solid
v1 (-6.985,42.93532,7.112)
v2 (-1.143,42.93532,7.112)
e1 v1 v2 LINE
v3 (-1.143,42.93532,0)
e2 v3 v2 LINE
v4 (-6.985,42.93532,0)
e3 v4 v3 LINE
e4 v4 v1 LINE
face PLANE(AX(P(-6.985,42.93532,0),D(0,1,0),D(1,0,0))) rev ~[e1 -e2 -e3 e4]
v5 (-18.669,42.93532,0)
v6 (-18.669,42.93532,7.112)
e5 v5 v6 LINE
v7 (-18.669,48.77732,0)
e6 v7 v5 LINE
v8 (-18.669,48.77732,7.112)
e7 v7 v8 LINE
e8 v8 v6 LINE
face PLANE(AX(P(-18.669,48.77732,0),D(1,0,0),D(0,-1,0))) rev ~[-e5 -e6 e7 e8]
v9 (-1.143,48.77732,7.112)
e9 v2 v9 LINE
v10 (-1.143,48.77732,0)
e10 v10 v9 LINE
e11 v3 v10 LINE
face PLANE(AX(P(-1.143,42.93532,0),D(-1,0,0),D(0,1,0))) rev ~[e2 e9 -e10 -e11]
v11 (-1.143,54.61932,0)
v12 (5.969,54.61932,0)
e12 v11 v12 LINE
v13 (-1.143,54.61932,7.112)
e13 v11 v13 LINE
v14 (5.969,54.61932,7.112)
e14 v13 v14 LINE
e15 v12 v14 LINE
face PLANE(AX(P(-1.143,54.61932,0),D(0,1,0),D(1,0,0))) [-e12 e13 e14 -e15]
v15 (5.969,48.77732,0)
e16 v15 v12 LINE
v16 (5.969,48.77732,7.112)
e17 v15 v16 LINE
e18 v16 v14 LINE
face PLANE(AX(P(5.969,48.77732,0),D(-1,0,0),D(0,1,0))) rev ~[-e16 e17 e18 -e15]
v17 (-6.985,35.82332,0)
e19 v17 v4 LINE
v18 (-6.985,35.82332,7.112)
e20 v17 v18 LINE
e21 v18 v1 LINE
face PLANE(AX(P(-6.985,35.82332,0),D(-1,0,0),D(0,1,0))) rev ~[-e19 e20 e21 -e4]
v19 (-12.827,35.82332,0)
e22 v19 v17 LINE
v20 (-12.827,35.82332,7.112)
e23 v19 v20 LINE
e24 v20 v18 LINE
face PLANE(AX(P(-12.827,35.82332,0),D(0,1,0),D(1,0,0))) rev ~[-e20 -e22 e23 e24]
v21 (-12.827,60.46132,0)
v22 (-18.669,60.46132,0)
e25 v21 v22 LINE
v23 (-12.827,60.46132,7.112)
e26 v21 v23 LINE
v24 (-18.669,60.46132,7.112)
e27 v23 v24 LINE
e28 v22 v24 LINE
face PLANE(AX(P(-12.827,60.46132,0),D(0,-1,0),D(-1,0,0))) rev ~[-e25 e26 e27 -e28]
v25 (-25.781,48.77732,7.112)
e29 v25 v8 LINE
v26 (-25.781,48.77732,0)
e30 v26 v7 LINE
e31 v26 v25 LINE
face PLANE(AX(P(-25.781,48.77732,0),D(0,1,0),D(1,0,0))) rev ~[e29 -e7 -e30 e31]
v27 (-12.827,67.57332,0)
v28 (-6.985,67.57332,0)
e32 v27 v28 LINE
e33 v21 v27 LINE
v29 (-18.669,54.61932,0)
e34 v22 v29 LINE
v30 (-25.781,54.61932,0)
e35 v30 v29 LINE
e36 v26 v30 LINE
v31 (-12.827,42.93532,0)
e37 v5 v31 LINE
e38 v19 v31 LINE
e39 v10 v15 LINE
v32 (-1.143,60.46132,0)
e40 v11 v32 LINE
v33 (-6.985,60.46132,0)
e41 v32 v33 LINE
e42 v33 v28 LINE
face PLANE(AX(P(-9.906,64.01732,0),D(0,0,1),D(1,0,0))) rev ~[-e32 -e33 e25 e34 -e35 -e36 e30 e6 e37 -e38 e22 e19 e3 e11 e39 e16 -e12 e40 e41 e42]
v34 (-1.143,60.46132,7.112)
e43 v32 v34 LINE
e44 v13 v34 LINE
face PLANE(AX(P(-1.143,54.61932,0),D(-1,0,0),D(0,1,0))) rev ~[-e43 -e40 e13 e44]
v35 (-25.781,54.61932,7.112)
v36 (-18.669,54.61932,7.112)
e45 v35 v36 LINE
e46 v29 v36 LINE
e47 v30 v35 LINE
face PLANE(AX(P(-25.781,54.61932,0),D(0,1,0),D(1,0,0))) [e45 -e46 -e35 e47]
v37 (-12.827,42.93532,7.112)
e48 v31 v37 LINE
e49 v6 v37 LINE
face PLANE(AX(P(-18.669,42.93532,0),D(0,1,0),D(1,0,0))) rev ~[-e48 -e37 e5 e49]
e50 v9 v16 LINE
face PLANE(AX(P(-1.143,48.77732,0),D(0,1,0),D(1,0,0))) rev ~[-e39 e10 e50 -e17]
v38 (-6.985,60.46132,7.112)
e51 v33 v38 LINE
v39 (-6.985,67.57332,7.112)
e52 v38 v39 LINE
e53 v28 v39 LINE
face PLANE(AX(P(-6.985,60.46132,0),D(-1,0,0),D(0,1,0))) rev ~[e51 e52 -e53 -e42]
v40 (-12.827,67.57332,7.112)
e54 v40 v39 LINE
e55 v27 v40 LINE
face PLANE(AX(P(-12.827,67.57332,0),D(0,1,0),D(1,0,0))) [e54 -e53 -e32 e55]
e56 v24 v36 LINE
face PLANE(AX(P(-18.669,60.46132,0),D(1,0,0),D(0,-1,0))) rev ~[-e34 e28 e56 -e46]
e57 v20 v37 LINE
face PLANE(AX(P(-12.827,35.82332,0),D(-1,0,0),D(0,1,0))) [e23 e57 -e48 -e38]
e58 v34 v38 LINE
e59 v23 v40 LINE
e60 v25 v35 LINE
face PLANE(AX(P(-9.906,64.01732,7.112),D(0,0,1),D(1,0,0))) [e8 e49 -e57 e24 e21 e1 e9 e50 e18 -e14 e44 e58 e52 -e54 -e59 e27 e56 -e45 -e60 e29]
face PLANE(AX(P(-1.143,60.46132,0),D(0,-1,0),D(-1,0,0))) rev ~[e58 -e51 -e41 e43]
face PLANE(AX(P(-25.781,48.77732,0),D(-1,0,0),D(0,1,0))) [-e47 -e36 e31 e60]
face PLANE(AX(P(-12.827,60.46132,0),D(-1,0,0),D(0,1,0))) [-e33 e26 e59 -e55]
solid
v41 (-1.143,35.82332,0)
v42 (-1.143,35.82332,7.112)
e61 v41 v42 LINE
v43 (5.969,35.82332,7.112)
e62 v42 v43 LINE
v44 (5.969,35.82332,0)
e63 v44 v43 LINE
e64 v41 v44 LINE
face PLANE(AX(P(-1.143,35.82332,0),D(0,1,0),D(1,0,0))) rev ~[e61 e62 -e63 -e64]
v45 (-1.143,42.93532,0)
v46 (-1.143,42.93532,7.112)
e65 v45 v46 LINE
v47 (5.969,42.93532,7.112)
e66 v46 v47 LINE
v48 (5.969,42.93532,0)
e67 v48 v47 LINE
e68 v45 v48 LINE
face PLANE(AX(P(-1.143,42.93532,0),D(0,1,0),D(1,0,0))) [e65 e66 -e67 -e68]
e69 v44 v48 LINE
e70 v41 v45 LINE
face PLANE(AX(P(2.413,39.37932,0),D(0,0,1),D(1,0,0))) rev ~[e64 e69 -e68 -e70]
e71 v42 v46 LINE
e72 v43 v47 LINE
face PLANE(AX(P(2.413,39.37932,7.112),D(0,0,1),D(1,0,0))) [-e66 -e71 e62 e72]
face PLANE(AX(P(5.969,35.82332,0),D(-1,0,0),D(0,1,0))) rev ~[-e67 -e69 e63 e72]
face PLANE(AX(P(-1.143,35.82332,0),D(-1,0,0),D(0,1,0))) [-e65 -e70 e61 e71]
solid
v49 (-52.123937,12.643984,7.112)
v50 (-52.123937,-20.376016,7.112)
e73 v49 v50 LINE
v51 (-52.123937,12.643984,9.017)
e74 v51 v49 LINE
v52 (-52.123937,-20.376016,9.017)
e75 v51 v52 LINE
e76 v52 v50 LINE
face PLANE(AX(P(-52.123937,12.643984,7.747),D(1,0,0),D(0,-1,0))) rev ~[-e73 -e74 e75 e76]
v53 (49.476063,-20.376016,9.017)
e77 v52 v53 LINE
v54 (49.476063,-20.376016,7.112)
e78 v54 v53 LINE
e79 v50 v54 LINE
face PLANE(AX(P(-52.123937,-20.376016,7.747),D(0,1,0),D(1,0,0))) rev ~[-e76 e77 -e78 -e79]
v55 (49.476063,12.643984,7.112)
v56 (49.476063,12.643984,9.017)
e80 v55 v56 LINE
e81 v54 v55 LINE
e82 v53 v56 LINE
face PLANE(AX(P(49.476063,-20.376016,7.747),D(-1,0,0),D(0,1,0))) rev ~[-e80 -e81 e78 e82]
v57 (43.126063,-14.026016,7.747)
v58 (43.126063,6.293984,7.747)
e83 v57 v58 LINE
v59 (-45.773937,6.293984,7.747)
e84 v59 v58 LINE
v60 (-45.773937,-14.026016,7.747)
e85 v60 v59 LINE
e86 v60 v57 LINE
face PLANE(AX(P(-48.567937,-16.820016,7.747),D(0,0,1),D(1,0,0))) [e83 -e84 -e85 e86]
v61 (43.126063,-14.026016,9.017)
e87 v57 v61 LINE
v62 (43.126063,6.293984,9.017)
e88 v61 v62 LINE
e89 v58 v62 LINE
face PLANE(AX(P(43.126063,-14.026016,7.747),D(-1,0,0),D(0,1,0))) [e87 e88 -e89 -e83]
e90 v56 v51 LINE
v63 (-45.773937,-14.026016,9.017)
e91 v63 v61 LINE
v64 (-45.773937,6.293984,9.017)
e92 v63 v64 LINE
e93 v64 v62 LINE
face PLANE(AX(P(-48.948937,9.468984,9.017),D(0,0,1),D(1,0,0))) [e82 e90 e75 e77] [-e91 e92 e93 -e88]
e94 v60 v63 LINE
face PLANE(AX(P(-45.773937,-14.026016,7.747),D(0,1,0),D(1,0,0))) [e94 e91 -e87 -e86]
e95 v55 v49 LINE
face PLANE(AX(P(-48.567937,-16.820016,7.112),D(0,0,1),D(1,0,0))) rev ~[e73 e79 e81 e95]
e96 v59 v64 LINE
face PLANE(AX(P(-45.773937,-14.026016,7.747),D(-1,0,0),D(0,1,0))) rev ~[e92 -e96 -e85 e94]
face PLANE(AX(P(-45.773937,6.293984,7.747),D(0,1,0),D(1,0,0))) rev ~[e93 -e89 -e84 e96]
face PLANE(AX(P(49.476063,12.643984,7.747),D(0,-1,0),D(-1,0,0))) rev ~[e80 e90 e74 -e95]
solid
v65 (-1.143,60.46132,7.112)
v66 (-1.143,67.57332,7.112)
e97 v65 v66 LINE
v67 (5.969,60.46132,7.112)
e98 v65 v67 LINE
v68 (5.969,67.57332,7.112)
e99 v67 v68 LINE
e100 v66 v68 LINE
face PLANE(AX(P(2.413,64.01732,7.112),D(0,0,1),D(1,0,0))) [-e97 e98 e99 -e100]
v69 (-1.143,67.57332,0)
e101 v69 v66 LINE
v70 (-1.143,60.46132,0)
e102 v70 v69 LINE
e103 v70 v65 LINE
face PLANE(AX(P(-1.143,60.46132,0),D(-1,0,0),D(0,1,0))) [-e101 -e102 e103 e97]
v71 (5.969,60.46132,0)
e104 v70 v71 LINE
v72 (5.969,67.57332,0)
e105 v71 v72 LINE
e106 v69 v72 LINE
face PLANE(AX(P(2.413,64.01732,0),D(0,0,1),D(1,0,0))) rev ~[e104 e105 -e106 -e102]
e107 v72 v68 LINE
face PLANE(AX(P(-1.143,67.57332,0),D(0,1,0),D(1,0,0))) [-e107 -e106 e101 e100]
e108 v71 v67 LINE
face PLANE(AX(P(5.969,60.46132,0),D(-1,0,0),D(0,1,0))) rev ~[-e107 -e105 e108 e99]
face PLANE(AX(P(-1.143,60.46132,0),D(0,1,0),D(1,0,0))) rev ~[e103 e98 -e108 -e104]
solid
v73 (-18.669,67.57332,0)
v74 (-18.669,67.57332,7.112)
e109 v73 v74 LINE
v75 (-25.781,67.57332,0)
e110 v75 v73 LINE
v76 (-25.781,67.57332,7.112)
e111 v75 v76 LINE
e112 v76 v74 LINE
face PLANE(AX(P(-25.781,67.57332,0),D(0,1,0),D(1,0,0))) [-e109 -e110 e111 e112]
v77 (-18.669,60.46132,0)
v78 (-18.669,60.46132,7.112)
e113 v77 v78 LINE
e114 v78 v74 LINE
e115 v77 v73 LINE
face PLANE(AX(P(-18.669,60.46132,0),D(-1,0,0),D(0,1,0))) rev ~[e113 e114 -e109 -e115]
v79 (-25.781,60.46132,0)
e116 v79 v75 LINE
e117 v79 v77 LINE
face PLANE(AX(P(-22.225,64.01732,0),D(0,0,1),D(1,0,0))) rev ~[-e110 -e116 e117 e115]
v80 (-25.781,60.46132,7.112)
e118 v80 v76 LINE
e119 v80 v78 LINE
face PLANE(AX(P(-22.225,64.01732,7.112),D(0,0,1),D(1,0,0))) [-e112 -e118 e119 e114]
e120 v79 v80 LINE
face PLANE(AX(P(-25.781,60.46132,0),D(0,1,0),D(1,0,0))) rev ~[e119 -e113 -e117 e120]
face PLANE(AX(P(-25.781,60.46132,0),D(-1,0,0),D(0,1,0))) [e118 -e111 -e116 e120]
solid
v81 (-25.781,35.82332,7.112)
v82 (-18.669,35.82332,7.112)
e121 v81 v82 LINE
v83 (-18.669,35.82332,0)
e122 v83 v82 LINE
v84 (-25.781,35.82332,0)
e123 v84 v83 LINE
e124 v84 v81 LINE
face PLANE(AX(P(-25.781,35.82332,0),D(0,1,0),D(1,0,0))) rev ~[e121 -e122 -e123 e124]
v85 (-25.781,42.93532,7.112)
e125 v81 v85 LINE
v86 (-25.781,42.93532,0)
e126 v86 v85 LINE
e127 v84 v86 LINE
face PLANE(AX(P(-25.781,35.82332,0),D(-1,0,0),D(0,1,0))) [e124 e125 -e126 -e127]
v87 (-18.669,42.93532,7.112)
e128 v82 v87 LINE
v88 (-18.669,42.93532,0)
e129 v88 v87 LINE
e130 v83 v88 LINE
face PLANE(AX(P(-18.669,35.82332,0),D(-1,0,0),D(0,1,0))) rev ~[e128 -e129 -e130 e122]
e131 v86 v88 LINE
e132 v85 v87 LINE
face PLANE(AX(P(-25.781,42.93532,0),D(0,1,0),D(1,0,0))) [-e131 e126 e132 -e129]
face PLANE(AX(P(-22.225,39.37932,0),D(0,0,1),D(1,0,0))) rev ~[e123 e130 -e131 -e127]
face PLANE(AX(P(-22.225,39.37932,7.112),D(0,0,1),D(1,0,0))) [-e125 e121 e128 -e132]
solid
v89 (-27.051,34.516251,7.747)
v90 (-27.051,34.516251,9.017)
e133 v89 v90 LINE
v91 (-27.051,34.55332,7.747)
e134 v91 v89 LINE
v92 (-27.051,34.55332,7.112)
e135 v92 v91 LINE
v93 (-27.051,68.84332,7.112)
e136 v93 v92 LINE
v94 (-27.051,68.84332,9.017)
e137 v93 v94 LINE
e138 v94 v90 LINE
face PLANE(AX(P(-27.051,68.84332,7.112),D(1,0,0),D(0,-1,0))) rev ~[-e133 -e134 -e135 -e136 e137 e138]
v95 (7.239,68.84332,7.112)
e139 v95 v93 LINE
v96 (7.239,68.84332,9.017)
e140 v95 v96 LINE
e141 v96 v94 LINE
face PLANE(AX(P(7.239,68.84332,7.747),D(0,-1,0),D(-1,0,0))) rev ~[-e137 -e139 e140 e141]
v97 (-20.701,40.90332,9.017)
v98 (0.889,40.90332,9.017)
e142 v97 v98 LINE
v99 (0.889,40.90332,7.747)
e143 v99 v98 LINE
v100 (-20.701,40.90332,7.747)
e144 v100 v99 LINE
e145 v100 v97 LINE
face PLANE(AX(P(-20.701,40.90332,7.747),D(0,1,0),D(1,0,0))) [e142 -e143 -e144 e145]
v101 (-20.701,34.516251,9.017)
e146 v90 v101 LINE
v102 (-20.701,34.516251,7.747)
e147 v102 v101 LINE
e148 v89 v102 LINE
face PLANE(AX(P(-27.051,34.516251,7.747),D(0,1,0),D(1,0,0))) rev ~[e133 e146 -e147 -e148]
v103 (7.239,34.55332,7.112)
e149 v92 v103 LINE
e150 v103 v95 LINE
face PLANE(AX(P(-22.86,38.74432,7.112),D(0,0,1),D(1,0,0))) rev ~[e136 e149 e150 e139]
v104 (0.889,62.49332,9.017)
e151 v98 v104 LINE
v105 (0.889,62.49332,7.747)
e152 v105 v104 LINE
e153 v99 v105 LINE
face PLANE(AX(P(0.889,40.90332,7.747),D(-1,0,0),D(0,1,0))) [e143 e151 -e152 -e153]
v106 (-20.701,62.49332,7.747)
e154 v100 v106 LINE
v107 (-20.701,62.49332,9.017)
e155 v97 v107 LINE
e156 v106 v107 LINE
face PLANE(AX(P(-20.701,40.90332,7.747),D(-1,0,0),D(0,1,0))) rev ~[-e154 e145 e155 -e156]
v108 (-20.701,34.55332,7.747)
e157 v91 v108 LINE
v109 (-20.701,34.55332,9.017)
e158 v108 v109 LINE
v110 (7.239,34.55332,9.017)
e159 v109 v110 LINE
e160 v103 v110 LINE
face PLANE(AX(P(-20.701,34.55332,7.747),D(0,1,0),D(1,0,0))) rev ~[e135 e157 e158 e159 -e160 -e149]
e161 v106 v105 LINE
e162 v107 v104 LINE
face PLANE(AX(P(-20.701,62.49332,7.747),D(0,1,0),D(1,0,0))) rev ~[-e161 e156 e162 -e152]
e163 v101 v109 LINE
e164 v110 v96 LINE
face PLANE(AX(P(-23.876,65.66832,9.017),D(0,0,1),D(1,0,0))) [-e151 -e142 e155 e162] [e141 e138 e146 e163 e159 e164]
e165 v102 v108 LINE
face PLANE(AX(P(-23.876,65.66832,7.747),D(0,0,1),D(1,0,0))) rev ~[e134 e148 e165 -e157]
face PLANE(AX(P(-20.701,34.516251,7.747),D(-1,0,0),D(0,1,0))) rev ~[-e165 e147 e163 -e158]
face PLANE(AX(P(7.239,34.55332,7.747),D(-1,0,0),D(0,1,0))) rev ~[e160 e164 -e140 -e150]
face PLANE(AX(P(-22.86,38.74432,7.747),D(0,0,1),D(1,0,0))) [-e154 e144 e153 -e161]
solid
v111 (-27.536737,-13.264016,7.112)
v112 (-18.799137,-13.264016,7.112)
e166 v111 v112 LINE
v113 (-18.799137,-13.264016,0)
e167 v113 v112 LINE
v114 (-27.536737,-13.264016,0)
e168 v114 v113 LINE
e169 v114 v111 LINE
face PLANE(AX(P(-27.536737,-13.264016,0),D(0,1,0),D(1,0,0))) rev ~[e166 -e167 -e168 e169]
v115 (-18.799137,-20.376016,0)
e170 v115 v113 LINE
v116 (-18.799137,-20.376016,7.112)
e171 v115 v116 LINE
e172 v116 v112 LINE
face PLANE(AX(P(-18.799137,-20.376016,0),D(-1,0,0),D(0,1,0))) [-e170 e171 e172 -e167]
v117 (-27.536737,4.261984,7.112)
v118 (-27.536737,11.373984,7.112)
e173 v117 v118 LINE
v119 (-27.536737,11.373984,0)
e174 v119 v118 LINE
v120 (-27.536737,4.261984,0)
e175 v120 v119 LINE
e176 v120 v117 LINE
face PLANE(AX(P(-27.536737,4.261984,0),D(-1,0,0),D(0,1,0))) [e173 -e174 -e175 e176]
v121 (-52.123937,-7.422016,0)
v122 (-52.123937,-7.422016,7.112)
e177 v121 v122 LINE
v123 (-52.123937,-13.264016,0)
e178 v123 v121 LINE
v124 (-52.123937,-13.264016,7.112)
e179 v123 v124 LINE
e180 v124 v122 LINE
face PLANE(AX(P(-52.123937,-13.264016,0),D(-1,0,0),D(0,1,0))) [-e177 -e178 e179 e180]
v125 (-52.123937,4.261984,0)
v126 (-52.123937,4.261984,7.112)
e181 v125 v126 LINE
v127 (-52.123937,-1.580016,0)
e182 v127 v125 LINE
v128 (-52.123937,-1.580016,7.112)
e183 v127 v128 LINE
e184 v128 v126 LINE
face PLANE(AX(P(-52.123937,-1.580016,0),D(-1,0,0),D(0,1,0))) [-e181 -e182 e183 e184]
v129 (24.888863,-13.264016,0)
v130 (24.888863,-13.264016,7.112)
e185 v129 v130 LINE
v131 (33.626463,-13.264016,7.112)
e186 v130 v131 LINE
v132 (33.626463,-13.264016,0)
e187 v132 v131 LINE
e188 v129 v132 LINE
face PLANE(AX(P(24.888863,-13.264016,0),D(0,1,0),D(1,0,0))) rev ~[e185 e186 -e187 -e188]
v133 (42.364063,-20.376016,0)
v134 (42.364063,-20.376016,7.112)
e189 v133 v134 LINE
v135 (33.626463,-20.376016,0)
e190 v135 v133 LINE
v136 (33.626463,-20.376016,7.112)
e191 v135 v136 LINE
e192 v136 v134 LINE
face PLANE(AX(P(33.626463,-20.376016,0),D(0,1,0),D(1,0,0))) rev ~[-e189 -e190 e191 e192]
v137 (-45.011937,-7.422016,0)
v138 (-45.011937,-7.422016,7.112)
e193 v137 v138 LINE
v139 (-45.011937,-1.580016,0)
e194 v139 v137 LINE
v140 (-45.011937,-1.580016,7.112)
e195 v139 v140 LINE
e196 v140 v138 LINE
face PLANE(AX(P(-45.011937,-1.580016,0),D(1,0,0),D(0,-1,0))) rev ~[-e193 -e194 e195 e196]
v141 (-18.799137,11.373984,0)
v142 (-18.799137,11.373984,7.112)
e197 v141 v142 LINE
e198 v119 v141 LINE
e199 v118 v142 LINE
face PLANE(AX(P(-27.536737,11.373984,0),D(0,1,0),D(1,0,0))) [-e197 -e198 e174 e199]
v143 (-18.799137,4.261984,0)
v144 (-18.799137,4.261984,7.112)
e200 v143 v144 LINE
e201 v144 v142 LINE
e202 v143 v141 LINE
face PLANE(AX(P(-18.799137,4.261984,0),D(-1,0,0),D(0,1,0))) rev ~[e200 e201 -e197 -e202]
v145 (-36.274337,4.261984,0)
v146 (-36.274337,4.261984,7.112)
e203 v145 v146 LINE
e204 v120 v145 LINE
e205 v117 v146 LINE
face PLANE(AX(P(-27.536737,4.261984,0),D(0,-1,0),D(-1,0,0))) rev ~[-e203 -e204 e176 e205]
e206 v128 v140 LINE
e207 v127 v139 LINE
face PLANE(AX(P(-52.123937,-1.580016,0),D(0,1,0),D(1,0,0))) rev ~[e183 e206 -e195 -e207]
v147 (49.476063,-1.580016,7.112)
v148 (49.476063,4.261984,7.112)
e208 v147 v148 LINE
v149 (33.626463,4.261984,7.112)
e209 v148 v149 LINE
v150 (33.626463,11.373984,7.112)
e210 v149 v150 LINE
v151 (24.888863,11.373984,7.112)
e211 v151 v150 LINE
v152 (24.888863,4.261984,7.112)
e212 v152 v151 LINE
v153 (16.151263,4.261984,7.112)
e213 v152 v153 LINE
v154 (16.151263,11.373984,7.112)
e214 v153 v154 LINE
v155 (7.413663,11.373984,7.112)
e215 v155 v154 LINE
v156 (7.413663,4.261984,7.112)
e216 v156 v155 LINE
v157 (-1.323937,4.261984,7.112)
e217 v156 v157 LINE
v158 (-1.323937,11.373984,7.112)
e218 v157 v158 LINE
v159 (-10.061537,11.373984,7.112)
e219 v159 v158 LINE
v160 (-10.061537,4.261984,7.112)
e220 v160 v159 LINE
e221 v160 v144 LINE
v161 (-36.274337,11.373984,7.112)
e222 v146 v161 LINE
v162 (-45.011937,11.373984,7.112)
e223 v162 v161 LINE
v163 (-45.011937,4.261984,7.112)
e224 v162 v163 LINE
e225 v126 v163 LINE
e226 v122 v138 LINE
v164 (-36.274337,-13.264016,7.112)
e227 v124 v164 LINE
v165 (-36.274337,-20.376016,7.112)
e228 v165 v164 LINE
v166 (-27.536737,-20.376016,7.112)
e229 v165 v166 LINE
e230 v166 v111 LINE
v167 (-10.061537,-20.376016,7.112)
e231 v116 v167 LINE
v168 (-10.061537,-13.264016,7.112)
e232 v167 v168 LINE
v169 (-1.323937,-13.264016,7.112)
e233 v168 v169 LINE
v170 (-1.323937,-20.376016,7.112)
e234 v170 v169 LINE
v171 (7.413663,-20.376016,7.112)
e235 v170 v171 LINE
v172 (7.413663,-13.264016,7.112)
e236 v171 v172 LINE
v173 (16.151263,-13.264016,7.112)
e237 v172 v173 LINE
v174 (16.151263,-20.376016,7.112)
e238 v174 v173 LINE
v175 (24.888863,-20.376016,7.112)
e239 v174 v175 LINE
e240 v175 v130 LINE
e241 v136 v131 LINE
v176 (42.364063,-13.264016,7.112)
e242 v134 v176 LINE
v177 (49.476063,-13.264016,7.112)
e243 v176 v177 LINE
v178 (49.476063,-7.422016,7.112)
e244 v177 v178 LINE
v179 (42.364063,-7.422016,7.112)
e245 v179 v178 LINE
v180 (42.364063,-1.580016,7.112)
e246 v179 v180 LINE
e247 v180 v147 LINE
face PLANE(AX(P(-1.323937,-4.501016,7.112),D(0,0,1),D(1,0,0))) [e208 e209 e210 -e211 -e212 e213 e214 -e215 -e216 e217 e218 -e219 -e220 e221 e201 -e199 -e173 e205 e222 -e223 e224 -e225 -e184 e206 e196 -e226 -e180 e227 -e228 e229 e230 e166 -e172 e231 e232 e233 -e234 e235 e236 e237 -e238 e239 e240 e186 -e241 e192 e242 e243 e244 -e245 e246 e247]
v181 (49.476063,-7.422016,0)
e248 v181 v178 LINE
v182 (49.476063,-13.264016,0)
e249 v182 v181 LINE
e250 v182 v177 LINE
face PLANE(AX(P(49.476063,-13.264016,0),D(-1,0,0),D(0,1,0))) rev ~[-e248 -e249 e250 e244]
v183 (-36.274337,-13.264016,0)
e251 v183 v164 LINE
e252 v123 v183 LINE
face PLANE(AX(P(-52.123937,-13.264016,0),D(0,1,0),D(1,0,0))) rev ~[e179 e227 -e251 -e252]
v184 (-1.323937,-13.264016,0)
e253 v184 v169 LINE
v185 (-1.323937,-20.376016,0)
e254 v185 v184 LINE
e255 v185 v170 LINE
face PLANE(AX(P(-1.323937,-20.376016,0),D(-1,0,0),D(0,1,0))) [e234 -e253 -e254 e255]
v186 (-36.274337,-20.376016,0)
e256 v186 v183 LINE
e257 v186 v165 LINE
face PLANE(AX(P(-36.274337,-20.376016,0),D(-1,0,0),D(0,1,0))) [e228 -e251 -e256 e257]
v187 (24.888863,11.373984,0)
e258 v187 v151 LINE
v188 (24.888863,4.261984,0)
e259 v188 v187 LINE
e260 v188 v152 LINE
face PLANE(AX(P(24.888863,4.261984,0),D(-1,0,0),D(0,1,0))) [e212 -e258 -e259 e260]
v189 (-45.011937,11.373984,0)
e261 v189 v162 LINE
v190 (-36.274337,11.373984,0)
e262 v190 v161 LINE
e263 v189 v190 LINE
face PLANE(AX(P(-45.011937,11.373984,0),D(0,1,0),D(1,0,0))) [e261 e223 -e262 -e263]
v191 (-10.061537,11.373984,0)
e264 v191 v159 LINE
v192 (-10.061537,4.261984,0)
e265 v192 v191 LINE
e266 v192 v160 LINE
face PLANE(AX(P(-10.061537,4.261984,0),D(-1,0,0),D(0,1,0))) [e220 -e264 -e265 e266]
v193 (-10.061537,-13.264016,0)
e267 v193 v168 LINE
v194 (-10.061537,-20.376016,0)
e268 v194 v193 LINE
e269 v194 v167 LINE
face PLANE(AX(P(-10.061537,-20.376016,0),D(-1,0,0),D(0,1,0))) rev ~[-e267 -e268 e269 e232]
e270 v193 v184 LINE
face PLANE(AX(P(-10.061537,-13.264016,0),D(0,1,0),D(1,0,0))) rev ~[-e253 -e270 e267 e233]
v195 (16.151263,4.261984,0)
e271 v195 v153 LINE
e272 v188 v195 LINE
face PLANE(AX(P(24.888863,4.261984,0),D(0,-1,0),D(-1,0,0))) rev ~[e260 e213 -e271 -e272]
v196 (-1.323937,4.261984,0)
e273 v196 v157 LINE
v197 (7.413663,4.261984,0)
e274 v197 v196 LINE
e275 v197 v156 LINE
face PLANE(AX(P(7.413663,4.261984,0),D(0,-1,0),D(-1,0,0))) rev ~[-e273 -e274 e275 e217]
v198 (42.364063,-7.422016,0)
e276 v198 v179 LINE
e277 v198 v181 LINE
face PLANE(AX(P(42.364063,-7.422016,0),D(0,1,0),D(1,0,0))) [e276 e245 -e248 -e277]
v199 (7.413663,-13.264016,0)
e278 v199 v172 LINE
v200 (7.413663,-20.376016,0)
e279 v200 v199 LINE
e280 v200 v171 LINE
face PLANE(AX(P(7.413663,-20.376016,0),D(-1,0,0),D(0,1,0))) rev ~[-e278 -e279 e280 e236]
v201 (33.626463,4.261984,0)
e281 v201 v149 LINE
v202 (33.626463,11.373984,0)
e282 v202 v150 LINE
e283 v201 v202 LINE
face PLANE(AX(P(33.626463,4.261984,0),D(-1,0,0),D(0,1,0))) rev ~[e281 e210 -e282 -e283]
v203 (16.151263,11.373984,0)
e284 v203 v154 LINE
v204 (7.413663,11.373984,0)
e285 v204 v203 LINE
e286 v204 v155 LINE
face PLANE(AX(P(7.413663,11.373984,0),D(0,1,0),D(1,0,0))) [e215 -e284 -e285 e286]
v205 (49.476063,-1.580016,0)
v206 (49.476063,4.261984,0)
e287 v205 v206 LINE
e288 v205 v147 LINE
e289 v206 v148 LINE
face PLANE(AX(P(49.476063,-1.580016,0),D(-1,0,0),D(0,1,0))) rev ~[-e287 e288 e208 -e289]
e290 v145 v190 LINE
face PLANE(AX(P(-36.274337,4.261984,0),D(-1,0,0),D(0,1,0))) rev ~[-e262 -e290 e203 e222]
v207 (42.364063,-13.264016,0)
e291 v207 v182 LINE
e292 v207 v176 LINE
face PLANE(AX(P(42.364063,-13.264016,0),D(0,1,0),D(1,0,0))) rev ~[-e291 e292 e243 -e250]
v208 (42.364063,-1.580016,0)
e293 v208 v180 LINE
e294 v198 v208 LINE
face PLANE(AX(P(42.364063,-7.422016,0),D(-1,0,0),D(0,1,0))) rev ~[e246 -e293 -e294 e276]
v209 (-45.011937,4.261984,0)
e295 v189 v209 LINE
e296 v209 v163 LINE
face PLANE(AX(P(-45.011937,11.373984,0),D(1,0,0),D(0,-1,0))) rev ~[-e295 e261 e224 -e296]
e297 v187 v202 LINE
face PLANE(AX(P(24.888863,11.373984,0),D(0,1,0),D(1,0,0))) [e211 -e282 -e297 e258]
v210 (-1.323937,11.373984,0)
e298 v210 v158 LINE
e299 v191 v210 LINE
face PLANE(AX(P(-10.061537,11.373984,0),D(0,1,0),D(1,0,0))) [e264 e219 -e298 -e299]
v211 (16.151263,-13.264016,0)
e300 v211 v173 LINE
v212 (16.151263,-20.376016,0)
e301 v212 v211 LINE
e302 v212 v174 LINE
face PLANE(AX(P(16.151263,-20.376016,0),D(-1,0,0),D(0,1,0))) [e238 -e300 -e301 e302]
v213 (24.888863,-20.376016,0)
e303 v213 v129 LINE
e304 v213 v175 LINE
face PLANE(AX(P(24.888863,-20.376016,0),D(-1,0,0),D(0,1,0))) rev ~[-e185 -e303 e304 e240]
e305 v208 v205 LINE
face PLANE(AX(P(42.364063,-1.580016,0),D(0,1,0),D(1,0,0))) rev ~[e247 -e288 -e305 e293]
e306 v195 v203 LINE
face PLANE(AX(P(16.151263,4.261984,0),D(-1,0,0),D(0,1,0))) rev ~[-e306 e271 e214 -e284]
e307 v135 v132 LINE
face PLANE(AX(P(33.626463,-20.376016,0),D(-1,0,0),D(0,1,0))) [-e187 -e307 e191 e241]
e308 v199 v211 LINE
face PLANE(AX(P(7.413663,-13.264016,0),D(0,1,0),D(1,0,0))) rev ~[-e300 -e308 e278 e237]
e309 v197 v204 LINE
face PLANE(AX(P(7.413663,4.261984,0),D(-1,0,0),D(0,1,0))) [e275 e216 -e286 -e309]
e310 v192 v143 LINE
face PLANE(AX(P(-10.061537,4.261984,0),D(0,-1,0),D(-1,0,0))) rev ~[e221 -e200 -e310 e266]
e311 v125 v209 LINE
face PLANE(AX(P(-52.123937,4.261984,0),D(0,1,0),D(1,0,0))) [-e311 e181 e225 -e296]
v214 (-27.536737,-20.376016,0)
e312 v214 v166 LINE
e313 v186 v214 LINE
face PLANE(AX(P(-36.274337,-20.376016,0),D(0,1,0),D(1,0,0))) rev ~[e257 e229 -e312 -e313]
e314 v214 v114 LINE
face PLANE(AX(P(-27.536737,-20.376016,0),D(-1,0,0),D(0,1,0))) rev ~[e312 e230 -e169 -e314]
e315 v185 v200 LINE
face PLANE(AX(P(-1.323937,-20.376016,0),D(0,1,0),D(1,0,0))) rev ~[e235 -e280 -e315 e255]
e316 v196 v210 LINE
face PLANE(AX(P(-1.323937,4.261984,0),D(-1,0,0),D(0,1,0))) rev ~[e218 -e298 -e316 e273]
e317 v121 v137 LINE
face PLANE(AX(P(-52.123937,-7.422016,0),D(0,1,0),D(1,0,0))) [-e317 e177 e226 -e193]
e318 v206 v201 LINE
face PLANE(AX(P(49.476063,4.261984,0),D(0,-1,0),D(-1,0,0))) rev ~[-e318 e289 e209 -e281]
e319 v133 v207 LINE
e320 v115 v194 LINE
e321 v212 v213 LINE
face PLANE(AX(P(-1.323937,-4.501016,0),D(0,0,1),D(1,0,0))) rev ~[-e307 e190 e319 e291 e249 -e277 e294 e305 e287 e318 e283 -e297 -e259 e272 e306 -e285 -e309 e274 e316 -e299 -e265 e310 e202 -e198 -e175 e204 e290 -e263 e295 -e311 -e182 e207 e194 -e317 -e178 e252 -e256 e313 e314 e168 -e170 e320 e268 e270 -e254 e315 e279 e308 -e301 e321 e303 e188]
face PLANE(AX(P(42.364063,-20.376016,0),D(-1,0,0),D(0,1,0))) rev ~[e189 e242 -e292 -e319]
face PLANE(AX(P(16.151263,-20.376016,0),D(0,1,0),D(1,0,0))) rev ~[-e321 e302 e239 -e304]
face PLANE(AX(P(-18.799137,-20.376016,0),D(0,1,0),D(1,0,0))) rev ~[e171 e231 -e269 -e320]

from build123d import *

# Parameters (mm, degrees)
F0_W      = 8.7376
F0_H      = 7.112
F0_W_2    = 7.112
F0_H_2    = 5.842
F1_DEPTH  = 7.112
F2_W      = 7.112
F2_H      = 7.112
F2_W_2    = 87.376
F2_H_2    = 17.526
F2_H_3    = 8.382
F3_DEPTH  = 0.635
F4_W      = 7.112
F4_H      = 7.112
F5_DEPTH  = 7.112
F4_W_2    = 5.842
F4_H_2    = 5.842
F6_W      = 8.382
F6_H      = 8.382
F6_W_2    = 17.526
F6_H_2    = 17.526
F7_DEPTH  = 0.635
F8_W      = 6.35
F8_H      = 6.35
F8_W_2    = 88.9
F8_H_2    = 20.32
F9_DEPTH  = 1.27
F10_W     = 6.35
F10_H     = 6.35
F10_W_2   = 21.59
F10_H_2   = 21.59
F10_H_3   = 0.0370688408
F11_DEPTH = 1.27


with BuildPart() as f1:
    # F0 (on Top) → F1 (new body)
    with BuildSketch(Plane.XY):
        Polygon((-36.2743366156, 4.2619839477), (-45.0119366156, 4.2619839477), (-45.0119366156, -1.5800160523), (-45.0119366156, -7.4220160523), (-45.0119366156, -13.2640160523), (-36.2743366156, -13.2640160523), (-27.5367366156, -13.2640160523), (-18.7991366156, -13.2640160523), (-10.0615366156, -13.2640160523), (-1.3239366156, -13.2640160523), (7.4136633844, -13.2640160523), (16.1512633844, -13.2640160523), (24.8888633844, -13.2640160523), (33.6264633844, -13.2640160523), (42.3640633844, -13.2640160523), (42.3640633844, -7.4220160523), (42.3640633844, -1.5800160523), (42.3640633844, 4.2619839477), (33.6264633844, 4.2619839477), (24.8888633844, 4.2619839477), (16.1512633844, 4.2619839477), (7.4136633844, 4.2619839477), (-1.3239366156, 4.2619839477), (-10.0615366156, 4.2619839477), (-18.7991366156, 4.2619839477), (-27.5367366156, 4.2619839477), align=None)
        with Locations((-40.6431366156, 7.8179839477)):
            Rectangle(F0_W, F0_H)
        with Locations((-23.1679366156, 7.8179839477)):
            Rectangle(F0_W, F0_H)
        with Locations((-5.6927366156, 7.8179839477)):
            Rectangle(F0_W, F0_H)
        with Locations((11.7824633844, 7.8179839477)):
            Rectangle(F0_W, F0_H)
        with Locations((29.2576633844, 7.8179839477)):
            Rectangle(F0_W, F0_H)
        with Locations((45.9200633844, 1.3409839477)):
            Rectangle(F0_W_2, F0_H_2)
        with Locations((45.9200633844, -10.3430160523)):
            Rectangle(F0_W_2, F0_H_2)
        with Locations((37.9952633844, -16.8200160523)):
            Rectangle(F0_W, F0_H)
        with Locations((20.5200633844, -16.8200160523)):
            Rectangle(F0_W, F0_H)
        with Locations((3.0448633844, -16.8200160523)):
            Rectangle(F0_W, F0_H)
        with Locations((-14.4303366156, -16.8200160523)):
            Rectangle(F0_W, F0_H)
        with Locations((-31.9055366156, -16.8200160523)):
            Rectangle(F0_W, F0_H)
        with Locations((-48.5679366156, -10.3430160523)):
            Rectangle(F0_W_2, F0_H_2)
        with Locations((-48.5679366156, 1.3409839477)):
            Rectangle(F0_W_2, F0_H_2)
    extrude(amount=F1_DEPTH)


with BuildPart() as f3:
    # F2 (on face) → F3 (new body)
    with BuildSketch(Plane.XY.offset(7.112)):
        with Locations((-48.5679366156, -16.8200160523)):
            Rectangle(F2_W, F2_H)
        with Locations((-1.3239366156, -16.8200160523)):
            Rectangle(F2_W_2, F2_H)
        with Locations((-48.5679366156, -4.5010160523)):
            Rectangle(F2_W, F2_H_2)
        with Locations((45.9200633844, -16.8200160523)):
            Rectangle(F2_W, F2_H)
        with Locations((-48.5679366156, 8.4529839477)):
            Rectangle(F2_W, F2_H_3)
        with Locations((-1.3239366156, 8.4529839477)):
            Rectangle(F2_W_2, F2_H_3)
        with Locations((45.9200633844, -4.5010160523)):
            Rectangle(F2_W, F2_H_2)
        with Locations((45.9200633844, 8.4529839477)):
            Rectangle(F2_W, F2_H_3)
        Polygon((-45.0119366156, -7.4220160523), (-45.0119366156, -13.2640160523), (-36.2743366156, -13.2640160523), (-27.5367366156, -13.2640160523), (-18.7991366156, -13.2640160523), (-10.0615366156, -13.2640160523), (-1.3239366156, -13.2640160523), (7.4136633844, -13.2640160523), (16.1512633844, -13.2640160523), (24.8888633844, -13.2640160523), (33.6264633844, -13.2640160523), (42.3640633844, -13.2640160523), (42.3640633844, -7.4220160523), (42.3640633844, -1.5800160523), (42.3640633844, 4.2619839477), (33.6264633844, 4.2619839477), (24.8888633844, 4.2619839477), (16.1512633844, 4.2619839477), (7.4136633844, 4.2619839477), (-1.3239366156, 4.2619839477), (-10.0615366156, 4.2619839477), (-18.7991366156, 4.2619839477), (-27.5367366156, 4.2619839477), (-36.2743366156, 4.2619839477), (-45.0119366156, 4.2619839477), (-45.0119366156, -1.5800160523), align=None)
    extrude(amount=F3_DEPTH)

    # F8 (on face) → F9 (join)
    with BuildSketch(Plane.XY.offset(7.747)):
        with Locations((-48.9489366156, 9.4689839477)):
            Rectangle(F8_W, F8_H)
        with Locations((-1.3239366156, 9.4689839477)):
            Rectangle(F8_W_2, F8_H)
        with Locations((-48.9489366156, -3.8660160523)):
            Rectangle(F8_W, F8_H_2)
        with Locations((46.3010633844, 9.4689839477)):
            Rectangle(F8_W, F8_H)
        with Locations((-48.9489366156, -17.2010160523)):
            Rectangle(F8_W, F8_H)
        with Locations((46.3010633844, -3.8660160523)):
            Rectangle(F8_W, F8_H_2)
        with Locations((-1.3239366156, -17.2010160523)):
            Rectangle(F8_W_2, F8_H)
        with Locations((46.3010633844, -17.2010160523)):
            Rectangle(F8_W, F8_H)
    extrude(amount=F9_DEPTH)


with BuildPart() as f5:
    # F4 (on Top) → F5 (new body)
    with BuildSketch(Plane.XY):
        with Locations((-22.2249995264, 64.0173197334)):
            Rectangle(F4_W, F4_H)
    extrude(amount=F5_DEPTH)


with BuildPart() as f5b:
    # F4 (on Top) → F5, piece 2 (new body)
    with BuildSketch(Plane.XY):
        with Locations((-9.9059995264, 64.0173197334)):
            Rectangle(F4_W_2, F4_H)
        Polygon((-12.8269995264, 60.4613197334), (-18.6689995264, 60.4613197334), (-18.6689995264, 54.6193197334), (-18.6689995264, 48.7773197334), (-18.6689995264, 42.9353197334), (-12.8269995264, 42.9353197334), (-6.9849995264, 42.9353197334), (-1.1429995264, 42.9353197334), (-1.1429995264, 48.7773197334), (-1.1429995264, 54.6193197334), (-1.1429995264, 60.4613197334), (-6.9849995264, 60.4613197334), align=None)
        with Locations((2.4130004736, 51.6983197334)):
            Rectangle(F4_W, F4_H_2)
        with Locations((-9.9059995264, 39.3793197334)):
            Rectangle(F4_W_2, F4_H)
        with Locations((-22.2249995264, 51.6983197334)):
            Rectangle(F4_W, F4_H_2)
    extrude(amount=F5_DEPTH)


with BuildPart() as f5c:
    # F4 (on Top) → F5, piece 3 (new body)
    with BuildSketch(Plane.XY):
        with Locations((2.4130004736, 64.0173197334)):
            Rectangle(F4_W, F4_H)
    extrude(amount=F5_DEPTH)


with BuildPart() as f5d:
    # F4 (on Top) → F5, piece 4 (new body)
    with BuildSketch(Plane.XY):
        with Locations((2.4130004736, 39.3793197334)):
            Rectangle(F4_W, F4_H)
    extrude(amount=F5_DEPTH)


with BuildPart() as f5e:
    # F4 (on Top) → F5, piece 5 (new body)
    with BuildSketch(Plane.XY):
        with Locations((-22.2249995264, 39.3793197334)):
            Rectangle(F4_W, F4_H)
    extrude(amount=F5_DEPTH)


with BuildPart() as f7:
    # F6 (on face) → F7 (new body)
    with BuildSketch(Plane.XY.offset(7.112)):
        with Locations((-22.8599995264, 38.7443197334)):
            Rectangle(F6_W, F6_H)
        with Locations((-9.9059995264, 38.7443197334)):
            Rectangle(F6_W_2, F6_H)
        with Locations((-22.8599995264, 51.6983197334)):
            Rectangle(F6_W, F6_H_2)
        with Locations((3.0480004736, 38.7443197334)):
            Rectangle(F6_W, F6_H)
        with Locations((-22.8599995264, 64.6523197334)):
            Rectangle(F6_W, F6_H)
        with Locations((-9.9059995264, 64.6523197334)):
            Rectangle(F6_W_2, F6_H)
        with Locations((3.0480004736, 51.6983197334)):
            Rectangle(F6_W, F6_H_2)
        with Locations((3.0480004736, 64.6523197334)):
            Rectangle(F6_W, F6_H)
        Polygon((-18.6689995264, 48.7773197334), (-18.6689995264, 42.9353197334), (-12.8269995264, 42.9353197334), (-6.9849995264, 42.9353197334), (-1.1429995264, 42.9353197334), (-1.1429995264, 48.7773197334), (-1.1429995264, 54.6193197334), (-1.1429995264, 60.4613197334), (-6.9849995264, 60.4613197334), (-12.8269995264, 60.4613197334), (-18.6689995264, 60.4613197334), (-18.6689995264, 54.6193197334), align=None)
    extrude(amount=F7_DEPTH)

    # F10 (on face) → F11 (join)
    with BuildSketch(Plane.XY.offset(7.747)):
        with Locations((-23.8759995264, 65.6683197334)):
            Rectangle(F10_W, F10_H)
        with Locations((-9.9059995264, 65.6683197334)):
            Rectangle(F10_W_2, F10_H)
        with Locations((-23.8759995264, 51.6983197334)):
            Rectangle(F10_W, F10_H_2)
        with Locations((4.0640004736, 65.6683197334)):
            Rectangle(F10_W, F10_H)
        with Locations((-23.8759995264, 37.7283197334)):
            Rectangle(F10_W, F10_H)
        with Locations((4.0640004736, 51.6983197334)):
            Rectangle(F10_W, F10_H_2)
        with Locations((-9.9059995264, 37.7283197334)):
            Rectangle(F10_W_2, F10_H)
        with Locations((-23.8759995264, 34.534785313)):
            Rectangle(F10_W, F10_H_3)
        with Locations((4.0640004736, 37.7283197334)):
            Rectangle(F10_W, F10_H)
    extrude(amount=F11_DEPTH)


solid = Compound([f1.part, f3.part, f5.part, f5b.part, f5c.part, f5d.part, f5e.part, f7.part])
